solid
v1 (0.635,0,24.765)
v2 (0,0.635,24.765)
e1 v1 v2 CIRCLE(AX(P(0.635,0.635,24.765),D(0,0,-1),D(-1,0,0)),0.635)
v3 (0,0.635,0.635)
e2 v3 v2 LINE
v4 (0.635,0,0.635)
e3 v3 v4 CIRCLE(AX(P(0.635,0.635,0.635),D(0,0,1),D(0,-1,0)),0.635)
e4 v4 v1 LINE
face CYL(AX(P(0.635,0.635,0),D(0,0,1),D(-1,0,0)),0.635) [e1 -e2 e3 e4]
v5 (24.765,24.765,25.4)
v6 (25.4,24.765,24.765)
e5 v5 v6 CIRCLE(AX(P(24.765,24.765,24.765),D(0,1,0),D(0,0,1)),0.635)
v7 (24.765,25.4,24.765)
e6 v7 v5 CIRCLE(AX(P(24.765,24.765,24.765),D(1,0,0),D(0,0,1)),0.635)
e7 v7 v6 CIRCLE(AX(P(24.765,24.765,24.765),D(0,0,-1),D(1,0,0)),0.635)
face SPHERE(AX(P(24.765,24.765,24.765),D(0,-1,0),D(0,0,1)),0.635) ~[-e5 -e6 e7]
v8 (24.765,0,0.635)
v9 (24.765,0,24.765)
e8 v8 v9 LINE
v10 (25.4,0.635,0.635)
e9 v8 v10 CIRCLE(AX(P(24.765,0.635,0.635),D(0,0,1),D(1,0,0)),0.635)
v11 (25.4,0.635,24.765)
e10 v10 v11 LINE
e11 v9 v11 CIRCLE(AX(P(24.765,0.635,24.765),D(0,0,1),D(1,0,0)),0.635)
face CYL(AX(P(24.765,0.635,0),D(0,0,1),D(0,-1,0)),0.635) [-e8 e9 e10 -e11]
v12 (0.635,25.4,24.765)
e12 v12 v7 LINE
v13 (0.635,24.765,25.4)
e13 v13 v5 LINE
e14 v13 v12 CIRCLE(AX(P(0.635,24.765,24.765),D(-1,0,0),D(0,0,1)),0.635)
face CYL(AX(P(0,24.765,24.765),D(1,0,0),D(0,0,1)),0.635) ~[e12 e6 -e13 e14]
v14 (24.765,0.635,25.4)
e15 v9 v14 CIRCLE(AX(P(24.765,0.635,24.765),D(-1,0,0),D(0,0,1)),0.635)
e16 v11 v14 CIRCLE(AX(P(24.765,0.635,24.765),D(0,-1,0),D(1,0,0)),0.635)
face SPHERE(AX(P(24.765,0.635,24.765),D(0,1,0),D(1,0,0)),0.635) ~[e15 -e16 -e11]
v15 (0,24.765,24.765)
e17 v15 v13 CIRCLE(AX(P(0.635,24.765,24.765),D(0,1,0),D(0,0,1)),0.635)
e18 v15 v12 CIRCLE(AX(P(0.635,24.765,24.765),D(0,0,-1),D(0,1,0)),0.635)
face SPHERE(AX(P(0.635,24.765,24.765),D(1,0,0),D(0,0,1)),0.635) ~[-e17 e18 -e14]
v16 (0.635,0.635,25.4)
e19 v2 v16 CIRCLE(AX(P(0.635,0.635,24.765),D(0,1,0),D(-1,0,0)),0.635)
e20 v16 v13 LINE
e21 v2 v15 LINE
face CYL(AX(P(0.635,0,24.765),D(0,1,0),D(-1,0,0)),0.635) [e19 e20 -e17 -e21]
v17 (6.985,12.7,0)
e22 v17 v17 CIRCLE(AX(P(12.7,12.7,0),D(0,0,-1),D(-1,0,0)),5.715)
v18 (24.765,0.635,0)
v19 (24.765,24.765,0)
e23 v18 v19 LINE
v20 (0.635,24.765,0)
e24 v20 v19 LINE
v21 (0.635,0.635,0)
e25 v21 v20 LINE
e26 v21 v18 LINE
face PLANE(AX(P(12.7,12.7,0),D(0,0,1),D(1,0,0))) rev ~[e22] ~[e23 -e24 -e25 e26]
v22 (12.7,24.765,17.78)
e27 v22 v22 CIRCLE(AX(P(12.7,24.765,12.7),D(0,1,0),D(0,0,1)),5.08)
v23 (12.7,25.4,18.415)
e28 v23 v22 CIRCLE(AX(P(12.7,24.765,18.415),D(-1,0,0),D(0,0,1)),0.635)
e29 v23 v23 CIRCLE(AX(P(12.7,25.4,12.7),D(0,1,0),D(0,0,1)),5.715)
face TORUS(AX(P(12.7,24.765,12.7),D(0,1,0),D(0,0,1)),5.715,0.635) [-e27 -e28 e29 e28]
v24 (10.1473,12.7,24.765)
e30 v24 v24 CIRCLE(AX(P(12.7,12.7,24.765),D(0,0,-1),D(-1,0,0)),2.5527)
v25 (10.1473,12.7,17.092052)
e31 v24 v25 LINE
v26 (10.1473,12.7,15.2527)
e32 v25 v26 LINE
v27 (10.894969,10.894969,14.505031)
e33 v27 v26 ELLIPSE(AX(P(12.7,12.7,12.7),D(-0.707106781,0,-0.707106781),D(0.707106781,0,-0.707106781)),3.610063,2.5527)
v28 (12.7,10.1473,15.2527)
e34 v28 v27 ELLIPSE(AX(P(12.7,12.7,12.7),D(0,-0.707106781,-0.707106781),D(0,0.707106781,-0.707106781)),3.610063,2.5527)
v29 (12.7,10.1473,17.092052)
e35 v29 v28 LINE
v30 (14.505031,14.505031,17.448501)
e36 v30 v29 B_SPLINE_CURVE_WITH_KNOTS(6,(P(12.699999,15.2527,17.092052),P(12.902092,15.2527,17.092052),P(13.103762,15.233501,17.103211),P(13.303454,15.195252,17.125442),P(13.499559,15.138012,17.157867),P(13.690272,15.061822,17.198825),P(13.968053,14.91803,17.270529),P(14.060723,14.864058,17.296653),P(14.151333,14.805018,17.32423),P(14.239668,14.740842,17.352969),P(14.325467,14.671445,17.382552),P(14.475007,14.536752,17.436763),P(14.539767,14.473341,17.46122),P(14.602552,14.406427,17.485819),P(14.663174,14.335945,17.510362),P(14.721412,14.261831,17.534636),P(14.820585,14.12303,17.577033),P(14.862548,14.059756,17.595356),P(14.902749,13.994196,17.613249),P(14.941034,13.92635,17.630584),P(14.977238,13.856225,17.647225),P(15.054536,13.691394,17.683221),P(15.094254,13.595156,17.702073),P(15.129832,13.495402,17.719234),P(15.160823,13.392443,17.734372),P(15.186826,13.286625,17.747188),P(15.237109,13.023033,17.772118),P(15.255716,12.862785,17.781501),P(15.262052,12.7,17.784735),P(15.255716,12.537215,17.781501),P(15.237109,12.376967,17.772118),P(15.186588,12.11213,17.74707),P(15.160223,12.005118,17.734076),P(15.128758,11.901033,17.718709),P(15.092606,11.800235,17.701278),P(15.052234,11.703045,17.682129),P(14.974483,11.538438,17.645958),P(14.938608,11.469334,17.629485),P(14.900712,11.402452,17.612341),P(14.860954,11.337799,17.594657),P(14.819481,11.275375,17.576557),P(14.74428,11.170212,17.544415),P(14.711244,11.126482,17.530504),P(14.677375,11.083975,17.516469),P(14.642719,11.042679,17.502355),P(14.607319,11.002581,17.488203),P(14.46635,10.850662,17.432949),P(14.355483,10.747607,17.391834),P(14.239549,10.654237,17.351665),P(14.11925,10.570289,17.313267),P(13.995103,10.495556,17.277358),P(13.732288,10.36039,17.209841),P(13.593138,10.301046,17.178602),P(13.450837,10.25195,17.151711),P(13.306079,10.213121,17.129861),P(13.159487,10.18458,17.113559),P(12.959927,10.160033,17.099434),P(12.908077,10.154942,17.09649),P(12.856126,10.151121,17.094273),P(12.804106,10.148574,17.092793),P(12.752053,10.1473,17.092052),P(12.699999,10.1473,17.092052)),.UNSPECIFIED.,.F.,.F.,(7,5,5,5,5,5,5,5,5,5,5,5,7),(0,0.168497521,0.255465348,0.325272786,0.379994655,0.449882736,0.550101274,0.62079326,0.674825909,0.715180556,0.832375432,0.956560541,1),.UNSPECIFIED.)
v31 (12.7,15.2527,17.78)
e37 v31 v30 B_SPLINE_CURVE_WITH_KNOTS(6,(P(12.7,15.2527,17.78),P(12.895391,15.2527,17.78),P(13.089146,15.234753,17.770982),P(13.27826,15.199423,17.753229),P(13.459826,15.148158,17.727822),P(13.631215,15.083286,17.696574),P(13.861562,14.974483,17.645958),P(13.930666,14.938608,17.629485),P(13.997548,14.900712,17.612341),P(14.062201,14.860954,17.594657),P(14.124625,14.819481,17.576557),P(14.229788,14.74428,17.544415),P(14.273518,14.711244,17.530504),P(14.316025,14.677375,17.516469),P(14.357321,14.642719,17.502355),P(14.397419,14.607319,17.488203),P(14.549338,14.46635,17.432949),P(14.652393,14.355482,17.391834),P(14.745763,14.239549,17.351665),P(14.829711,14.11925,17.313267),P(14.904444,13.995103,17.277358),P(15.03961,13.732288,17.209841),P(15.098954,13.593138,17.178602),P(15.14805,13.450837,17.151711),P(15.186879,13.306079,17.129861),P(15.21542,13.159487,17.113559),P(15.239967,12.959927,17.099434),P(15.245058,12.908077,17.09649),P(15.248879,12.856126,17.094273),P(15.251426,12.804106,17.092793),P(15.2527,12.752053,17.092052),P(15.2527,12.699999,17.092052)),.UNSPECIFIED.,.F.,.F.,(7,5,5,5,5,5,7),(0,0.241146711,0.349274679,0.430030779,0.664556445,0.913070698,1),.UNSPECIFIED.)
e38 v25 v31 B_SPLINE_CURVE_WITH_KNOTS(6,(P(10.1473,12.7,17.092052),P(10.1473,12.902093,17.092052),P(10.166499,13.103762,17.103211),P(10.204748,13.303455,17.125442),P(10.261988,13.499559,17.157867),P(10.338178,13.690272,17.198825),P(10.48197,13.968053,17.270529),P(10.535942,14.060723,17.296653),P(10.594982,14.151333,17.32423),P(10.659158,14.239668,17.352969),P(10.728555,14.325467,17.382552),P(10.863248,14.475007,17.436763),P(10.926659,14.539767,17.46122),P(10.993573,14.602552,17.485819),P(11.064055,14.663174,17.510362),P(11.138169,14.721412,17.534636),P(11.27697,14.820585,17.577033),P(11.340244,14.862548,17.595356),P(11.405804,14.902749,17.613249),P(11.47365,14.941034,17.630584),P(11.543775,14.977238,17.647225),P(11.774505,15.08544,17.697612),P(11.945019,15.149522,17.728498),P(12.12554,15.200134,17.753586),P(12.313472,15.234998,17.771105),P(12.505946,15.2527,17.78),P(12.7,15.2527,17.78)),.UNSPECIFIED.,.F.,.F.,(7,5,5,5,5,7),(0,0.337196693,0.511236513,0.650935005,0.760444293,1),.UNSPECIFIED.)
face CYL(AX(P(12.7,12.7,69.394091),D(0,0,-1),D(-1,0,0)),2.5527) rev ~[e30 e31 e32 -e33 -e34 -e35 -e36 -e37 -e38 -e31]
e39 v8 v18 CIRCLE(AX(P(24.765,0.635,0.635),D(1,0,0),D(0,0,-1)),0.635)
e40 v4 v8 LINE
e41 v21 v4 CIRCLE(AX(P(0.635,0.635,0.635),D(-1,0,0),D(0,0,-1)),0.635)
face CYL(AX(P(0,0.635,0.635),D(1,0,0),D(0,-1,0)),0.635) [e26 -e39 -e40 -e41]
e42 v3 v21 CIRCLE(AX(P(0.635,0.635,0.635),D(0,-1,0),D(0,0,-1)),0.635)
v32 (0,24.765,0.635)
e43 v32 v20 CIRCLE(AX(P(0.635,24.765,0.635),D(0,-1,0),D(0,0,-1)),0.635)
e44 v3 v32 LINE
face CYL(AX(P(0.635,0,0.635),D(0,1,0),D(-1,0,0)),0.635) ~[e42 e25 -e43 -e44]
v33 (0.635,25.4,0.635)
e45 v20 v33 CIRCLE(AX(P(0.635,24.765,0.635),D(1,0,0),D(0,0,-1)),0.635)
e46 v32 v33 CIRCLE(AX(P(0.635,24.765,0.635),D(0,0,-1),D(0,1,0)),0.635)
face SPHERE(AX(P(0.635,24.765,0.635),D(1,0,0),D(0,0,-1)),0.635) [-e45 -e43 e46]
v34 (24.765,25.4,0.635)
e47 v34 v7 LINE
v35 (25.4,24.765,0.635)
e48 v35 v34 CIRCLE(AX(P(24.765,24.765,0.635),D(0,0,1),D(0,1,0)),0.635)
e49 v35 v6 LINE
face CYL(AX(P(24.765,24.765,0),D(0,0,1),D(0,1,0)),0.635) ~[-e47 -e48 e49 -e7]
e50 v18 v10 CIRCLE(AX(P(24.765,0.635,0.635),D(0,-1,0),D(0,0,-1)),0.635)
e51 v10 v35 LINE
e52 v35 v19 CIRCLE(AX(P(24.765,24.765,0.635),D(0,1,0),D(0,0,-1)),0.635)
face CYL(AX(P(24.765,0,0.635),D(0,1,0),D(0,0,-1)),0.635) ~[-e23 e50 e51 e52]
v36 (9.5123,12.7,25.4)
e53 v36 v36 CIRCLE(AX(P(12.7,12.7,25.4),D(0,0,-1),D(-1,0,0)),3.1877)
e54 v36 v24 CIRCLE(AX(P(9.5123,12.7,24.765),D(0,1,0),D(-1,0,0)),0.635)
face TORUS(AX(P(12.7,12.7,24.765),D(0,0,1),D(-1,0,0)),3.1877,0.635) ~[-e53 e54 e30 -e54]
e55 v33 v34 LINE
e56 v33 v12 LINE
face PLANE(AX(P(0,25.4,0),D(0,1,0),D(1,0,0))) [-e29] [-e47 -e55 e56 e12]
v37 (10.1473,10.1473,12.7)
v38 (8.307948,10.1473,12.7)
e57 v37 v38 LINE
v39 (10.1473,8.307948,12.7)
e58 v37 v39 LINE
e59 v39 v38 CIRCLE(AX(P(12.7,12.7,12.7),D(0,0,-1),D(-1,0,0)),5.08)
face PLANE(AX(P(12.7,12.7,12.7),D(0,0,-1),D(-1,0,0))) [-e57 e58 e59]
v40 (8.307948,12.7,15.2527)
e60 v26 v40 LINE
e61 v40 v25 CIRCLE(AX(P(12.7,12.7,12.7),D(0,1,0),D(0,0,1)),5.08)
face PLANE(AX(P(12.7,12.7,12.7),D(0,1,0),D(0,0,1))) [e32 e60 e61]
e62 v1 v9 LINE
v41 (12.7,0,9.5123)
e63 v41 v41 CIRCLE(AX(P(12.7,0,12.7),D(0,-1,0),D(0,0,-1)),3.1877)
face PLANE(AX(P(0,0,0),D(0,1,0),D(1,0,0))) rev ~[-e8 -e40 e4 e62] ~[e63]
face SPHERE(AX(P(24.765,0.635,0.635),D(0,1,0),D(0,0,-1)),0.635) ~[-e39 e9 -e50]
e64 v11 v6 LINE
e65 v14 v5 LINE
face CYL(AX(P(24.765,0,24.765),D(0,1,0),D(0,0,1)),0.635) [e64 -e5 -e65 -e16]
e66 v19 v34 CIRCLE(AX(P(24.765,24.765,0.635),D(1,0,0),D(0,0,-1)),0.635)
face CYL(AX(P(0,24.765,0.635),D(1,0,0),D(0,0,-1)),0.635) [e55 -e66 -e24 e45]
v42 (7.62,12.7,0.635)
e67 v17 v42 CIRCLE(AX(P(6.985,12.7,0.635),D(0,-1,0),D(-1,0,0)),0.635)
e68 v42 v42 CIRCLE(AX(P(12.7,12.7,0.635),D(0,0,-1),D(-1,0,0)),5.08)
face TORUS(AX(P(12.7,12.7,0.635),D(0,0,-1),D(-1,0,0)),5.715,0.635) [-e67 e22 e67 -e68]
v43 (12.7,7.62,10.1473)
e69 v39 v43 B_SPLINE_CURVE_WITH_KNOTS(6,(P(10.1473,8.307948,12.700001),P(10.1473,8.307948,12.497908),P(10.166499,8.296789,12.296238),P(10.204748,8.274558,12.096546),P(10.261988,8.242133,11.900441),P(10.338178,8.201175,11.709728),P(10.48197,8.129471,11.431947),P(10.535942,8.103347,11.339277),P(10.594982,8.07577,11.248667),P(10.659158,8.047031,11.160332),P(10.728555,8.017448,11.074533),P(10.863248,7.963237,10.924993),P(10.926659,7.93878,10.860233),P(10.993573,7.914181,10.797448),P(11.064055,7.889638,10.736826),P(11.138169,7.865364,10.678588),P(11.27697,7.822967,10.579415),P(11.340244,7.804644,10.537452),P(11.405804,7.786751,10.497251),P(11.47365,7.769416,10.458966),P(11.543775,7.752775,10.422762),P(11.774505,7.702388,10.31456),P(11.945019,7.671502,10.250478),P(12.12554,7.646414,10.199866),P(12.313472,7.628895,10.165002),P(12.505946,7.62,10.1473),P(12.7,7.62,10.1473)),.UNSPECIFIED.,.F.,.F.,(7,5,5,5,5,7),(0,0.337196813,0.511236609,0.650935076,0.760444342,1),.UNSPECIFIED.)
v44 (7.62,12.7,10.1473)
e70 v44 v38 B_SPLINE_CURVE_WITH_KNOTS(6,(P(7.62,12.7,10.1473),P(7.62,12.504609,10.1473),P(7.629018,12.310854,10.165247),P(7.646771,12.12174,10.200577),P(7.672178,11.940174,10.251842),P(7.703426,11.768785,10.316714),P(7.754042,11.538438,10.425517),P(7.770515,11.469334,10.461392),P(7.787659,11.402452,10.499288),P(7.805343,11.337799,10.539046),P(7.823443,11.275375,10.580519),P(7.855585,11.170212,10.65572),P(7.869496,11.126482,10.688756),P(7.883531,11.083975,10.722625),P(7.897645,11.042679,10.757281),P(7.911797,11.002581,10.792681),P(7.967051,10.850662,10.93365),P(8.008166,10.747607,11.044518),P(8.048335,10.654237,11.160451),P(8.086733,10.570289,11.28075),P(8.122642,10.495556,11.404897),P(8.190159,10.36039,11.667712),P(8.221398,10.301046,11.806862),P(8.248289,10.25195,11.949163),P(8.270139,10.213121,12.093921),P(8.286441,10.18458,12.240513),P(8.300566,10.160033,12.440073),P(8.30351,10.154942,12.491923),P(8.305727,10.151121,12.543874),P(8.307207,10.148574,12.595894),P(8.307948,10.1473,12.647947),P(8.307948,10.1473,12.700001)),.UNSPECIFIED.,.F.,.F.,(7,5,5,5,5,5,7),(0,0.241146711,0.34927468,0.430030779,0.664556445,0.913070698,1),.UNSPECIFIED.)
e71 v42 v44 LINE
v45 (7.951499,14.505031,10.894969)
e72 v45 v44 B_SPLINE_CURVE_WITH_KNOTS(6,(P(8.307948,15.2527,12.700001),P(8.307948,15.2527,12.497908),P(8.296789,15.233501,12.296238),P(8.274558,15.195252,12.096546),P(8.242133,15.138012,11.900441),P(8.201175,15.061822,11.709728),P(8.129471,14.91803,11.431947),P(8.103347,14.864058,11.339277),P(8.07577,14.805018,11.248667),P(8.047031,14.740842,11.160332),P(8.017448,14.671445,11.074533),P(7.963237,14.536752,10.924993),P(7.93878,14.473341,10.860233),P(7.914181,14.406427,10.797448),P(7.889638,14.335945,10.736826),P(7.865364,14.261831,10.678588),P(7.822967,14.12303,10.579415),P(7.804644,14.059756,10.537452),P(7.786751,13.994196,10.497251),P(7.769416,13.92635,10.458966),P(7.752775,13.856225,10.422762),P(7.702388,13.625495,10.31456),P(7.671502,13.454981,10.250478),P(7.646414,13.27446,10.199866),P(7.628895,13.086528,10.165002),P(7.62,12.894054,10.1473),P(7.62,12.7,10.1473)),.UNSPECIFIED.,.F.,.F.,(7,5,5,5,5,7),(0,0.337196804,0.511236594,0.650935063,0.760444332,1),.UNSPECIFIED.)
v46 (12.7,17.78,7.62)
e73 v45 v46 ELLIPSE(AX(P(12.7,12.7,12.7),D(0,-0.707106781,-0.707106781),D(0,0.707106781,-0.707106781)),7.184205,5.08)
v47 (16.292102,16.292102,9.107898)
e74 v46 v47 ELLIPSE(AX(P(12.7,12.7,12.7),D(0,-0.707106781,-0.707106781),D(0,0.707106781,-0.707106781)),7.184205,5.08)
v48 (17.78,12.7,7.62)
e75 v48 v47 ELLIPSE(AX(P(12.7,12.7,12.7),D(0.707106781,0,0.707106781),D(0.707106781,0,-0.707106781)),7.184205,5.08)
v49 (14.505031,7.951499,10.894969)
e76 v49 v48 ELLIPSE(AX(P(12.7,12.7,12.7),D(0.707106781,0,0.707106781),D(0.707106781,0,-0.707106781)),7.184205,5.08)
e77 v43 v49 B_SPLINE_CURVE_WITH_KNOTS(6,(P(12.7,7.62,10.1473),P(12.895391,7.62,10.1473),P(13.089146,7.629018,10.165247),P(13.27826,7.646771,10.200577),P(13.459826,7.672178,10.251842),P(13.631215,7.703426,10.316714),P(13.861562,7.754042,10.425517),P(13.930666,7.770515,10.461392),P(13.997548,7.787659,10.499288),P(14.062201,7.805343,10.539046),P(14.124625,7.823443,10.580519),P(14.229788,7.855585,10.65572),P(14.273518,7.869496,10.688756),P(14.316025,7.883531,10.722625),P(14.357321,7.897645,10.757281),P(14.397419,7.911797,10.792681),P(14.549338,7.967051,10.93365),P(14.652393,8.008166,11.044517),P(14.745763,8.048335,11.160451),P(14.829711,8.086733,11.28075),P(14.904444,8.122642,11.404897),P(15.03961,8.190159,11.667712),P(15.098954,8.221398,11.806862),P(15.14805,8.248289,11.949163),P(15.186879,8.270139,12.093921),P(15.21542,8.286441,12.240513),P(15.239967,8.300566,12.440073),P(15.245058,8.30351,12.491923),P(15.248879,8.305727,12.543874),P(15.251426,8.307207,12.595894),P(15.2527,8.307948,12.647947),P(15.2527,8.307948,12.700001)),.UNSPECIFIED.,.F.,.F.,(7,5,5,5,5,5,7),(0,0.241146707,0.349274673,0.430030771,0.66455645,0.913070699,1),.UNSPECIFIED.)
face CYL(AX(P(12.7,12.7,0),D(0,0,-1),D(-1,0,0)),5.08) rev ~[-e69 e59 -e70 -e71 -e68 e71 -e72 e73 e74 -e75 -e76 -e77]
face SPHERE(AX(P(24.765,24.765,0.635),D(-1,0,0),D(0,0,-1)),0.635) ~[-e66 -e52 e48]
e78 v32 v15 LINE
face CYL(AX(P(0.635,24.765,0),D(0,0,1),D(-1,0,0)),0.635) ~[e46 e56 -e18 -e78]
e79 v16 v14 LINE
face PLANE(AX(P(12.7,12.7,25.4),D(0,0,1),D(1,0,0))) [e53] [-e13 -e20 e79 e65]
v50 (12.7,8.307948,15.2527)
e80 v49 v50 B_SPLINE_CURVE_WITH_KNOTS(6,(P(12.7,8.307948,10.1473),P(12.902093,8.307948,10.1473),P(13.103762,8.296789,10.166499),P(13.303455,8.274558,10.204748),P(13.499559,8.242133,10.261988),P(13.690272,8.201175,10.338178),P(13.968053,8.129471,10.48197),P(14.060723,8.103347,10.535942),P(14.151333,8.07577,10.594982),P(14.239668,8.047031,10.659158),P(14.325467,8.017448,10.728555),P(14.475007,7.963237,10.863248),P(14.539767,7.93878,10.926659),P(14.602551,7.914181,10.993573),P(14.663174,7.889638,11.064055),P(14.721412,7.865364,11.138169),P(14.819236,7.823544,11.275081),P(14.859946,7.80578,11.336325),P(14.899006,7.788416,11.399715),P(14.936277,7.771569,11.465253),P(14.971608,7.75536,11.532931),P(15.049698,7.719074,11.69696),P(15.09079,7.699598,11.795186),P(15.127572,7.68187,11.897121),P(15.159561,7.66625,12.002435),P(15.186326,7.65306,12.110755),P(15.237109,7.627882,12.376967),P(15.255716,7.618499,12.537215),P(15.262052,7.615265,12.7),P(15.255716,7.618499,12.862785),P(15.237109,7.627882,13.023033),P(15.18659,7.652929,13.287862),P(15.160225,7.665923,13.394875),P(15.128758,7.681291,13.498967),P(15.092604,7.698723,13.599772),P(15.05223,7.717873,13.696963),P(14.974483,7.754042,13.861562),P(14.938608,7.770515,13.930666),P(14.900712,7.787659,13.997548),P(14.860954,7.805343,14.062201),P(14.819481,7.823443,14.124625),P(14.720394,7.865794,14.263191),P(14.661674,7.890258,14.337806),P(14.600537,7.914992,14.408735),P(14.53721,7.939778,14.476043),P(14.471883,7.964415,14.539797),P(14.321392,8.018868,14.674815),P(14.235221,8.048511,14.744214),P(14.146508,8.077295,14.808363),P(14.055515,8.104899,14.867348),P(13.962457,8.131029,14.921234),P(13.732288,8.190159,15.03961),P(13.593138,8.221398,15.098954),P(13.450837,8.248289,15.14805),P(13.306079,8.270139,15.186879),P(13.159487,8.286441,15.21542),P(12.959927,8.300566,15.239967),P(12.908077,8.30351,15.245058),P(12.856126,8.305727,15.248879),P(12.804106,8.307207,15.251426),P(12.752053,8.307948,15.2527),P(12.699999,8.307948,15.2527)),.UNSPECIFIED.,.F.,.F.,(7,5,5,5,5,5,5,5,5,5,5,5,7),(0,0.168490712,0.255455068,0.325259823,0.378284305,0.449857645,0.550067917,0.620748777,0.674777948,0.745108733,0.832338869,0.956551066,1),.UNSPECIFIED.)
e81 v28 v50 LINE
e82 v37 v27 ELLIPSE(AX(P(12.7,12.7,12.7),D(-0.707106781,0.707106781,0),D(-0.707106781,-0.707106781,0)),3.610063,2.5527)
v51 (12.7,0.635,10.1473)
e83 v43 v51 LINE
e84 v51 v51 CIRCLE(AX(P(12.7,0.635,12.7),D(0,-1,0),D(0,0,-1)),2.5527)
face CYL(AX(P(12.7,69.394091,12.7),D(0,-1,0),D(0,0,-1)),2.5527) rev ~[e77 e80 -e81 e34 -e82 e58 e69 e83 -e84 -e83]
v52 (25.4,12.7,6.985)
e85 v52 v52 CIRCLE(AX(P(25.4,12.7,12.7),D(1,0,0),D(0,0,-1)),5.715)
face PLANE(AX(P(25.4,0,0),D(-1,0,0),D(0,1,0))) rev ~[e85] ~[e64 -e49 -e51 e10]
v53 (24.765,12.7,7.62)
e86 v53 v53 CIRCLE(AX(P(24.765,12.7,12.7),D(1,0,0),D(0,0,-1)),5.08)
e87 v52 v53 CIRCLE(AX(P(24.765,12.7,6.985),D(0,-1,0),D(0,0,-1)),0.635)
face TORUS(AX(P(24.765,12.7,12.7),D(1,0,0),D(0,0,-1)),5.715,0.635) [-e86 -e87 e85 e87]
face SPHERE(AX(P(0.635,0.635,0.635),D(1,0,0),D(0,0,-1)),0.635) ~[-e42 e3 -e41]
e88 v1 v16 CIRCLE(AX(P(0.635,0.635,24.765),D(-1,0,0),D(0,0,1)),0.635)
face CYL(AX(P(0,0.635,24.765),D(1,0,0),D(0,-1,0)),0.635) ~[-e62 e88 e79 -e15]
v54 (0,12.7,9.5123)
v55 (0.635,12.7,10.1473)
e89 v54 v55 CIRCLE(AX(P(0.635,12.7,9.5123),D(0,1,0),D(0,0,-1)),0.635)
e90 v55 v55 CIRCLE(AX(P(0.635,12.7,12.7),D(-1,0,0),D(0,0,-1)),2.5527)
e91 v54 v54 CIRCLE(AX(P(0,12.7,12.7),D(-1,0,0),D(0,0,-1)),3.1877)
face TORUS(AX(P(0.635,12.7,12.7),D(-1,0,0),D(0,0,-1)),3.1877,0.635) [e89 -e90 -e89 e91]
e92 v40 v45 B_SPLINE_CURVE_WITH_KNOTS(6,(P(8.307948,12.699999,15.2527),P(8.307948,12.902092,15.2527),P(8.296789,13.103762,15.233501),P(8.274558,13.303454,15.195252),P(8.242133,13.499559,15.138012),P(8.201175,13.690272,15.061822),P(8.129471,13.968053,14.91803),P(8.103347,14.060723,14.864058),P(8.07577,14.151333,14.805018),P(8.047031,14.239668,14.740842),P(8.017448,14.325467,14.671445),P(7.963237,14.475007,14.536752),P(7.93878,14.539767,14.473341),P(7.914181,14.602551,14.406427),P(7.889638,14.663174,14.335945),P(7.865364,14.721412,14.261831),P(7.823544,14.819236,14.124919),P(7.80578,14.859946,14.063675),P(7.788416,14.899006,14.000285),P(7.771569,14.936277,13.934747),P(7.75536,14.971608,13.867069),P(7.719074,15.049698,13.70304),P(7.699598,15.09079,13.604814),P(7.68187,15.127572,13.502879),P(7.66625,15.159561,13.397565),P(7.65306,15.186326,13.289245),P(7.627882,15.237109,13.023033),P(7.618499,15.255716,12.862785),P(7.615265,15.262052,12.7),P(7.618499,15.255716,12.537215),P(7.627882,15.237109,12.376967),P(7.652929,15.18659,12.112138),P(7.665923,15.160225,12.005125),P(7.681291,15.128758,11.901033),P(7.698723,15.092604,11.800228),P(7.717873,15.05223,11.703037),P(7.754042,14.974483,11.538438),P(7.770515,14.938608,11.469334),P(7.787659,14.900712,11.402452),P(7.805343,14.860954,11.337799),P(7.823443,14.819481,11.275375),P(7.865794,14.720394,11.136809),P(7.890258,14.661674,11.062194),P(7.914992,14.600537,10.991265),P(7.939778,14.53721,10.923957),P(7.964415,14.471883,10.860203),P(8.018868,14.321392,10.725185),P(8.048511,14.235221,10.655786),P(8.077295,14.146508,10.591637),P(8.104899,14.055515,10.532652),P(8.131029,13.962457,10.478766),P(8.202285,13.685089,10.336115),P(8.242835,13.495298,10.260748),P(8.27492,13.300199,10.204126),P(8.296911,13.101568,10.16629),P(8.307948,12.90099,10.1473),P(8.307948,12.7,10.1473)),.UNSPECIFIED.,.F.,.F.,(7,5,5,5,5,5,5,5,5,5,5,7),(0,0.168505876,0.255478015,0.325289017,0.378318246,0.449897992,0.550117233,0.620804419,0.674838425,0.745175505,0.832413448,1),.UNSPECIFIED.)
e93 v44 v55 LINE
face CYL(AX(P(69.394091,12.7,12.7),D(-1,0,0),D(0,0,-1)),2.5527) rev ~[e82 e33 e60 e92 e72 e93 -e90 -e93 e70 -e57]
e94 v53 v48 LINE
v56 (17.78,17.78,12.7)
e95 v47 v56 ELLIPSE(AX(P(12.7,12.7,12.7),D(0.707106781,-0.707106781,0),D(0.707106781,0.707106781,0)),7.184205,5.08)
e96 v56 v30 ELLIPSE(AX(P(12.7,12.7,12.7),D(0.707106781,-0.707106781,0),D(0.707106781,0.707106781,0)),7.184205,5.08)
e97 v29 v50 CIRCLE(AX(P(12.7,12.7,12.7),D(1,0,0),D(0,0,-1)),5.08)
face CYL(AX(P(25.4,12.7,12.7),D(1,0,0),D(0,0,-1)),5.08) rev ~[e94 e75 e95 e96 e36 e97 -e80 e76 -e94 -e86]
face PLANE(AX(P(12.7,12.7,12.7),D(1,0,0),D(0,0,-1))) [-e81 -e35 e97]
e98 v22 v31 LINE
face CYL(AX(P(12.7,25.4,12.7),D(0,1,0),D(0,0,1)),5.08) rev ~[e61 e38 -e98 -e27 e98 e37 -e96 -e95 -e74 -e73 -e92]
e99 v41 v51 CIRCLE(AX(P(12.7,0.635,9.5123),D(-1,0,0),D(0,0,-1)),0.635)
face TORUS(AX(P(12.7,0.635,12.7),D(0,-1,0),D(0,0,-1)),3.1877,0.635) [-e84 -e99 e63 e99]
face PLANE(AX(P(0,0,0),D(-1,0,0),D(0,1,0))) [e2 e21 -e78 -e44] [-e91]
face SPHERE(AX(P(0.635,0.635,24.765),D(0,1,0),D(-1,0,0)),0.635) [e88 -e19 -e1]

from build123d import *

# Parameters (mm, degrees)
SKETCH1_W                         = 25.4
SKETCH1_H                         = 25.4
BOSS_EXTRUDE1_DEPTH               = 25.4
F_1_4_20_TAPPED_HOLE1_D           = 5.1054
F_1_4_20_TAPPED_HOLE1_ON_FACE_2_D = 5.1054
F_1_4_20_TAPPED_HOLE1_ON_FACE_3_D = 5.1054
SKETCH7_R                         = 5.08
CUT_EXTRUDE1_DEPTH                = 12.7
SKETCH8_R                         = 5.08
CUT_EXTRUDE2_DEPTH                = 12.7
SKETCH10_R                        = 5.08
CUT_EXTRUDE3_DEPTH                = 12.7
FILLET1_R                         = 0.635


with BuildPart() as part:
    # Sketch1 → Boss-Extrude1 (new body)
    with BuildSketch(Plane.XY):
        with Locations((12.7, 12.7)):
            Rectangle(SKETCH1_W, SKETCH1_H)
    extrude(amount=BOSS_EXTRUDE1_DEPTH)

    # 1/4-20 Tapped Hole1 (through all)
    with Locations(Plane(origin=(12.7, 12.7, 25.4), x_dir=(1, 0, 0), z_dir=(0, 0, 1))):
        with Locations((0, 0)):
            Hole(F_1_4_20_TAPPED_HOLE1_D / 2)

    # 1/4-20 Tapped Hole1 on face 2 (through all)
    with Locations(Plane(origin=(25.4, 12.7, 12.7), x_dir=(0, 0, 1), z_dir=(1, 0, 0))):
        with Locations((0, 0)):
            Hole(F_1_4_20_TAPPED_HOLE1_ON_FACE_2_D / 2)

    # 1/4-20 Tapped Hole1 on face 3 (through all)
    with Locations(Plane(origin=(12.7, 25.4, 12.7), x_dir=(0, 0, 1), z_dir=(0, 1, 0))):
        with Locations((0, 0)):
            Hole(F_1_4_20_TAPPED_HOLE1_ON_FACE_3_D / 2)

    # Sketch7 → Cut-Extrude1 (cut)
    with BuildSketch(Plane(origin=(25.4, 0, 0), x_dir=(0, 0, -1), z_dir=(1, 0, 0))):
        with Locations((-12.7, 12.7)):
            Circle(SKETCH7_R)
    extrude(amount=-CUT_EXTRUDE1_DEPTH, mode=Mode.SUBTRACT)

    # Sketch8 → Cut-Extrude2 (cut)
    with BuildSketch(Plane(origin=(0, 0, 0), x_dir=(-1, 0, 0), z_dir=(0, 0, -1))):
        with Locations((-12.7, 12.7)):
            Circle(SKETCH8_R)
    extrude(amount=-CUT_EXTRUDE2_DEPTH, mode=Mode.SUBTRACT)

    # Sketch10 → Cut-Extrude3 (cut)
    with BuildSketch(Plane(origin=(0, 25.4, 0), x_dir=(1, 0, 0), z_dir=(0, 1, 0))):
        with Locations(Location((12.7, -12.7, 0), (0, 0, 270))):
            Circle(SKETCH10_R)
    extrude(amount=-CUT_EXTRUDE3_DEPTH, mode=Mode.SUBTRACT)

    # Fillet1
    fillet1_edges = [part.edges().sort_by_distance(p)[0] for p in [
        (25.4, 12.7, 25.4),
        (12.7, 0, 15.2527),
        (12.7, 25.4, 25.4),
        (0, 12.7, 15.2527),
        (15.2527, 12.7, 25.4),
        (0, 12.7, 25.4),
        (12.7, 25.4, 0),
        (25.4, 12.7, 0),
        (25.4, 12.7, 17.78),
        (12.7, 0, 0),
        (0, 12.7, 0),
        (0, 25.4, 12.7),
        (17.78, 12.7, 0),
        (25.4, 25.4, 12.7),
        (25.4, 0, 12.7),
        (0, 0, 12.7),
        (12.7, 0, 25.4),
        (12.7, 25.4, 7.62),
    ]]
    fillet(fillet1_edges, radius=FILLET1_R)


solid = part.part
